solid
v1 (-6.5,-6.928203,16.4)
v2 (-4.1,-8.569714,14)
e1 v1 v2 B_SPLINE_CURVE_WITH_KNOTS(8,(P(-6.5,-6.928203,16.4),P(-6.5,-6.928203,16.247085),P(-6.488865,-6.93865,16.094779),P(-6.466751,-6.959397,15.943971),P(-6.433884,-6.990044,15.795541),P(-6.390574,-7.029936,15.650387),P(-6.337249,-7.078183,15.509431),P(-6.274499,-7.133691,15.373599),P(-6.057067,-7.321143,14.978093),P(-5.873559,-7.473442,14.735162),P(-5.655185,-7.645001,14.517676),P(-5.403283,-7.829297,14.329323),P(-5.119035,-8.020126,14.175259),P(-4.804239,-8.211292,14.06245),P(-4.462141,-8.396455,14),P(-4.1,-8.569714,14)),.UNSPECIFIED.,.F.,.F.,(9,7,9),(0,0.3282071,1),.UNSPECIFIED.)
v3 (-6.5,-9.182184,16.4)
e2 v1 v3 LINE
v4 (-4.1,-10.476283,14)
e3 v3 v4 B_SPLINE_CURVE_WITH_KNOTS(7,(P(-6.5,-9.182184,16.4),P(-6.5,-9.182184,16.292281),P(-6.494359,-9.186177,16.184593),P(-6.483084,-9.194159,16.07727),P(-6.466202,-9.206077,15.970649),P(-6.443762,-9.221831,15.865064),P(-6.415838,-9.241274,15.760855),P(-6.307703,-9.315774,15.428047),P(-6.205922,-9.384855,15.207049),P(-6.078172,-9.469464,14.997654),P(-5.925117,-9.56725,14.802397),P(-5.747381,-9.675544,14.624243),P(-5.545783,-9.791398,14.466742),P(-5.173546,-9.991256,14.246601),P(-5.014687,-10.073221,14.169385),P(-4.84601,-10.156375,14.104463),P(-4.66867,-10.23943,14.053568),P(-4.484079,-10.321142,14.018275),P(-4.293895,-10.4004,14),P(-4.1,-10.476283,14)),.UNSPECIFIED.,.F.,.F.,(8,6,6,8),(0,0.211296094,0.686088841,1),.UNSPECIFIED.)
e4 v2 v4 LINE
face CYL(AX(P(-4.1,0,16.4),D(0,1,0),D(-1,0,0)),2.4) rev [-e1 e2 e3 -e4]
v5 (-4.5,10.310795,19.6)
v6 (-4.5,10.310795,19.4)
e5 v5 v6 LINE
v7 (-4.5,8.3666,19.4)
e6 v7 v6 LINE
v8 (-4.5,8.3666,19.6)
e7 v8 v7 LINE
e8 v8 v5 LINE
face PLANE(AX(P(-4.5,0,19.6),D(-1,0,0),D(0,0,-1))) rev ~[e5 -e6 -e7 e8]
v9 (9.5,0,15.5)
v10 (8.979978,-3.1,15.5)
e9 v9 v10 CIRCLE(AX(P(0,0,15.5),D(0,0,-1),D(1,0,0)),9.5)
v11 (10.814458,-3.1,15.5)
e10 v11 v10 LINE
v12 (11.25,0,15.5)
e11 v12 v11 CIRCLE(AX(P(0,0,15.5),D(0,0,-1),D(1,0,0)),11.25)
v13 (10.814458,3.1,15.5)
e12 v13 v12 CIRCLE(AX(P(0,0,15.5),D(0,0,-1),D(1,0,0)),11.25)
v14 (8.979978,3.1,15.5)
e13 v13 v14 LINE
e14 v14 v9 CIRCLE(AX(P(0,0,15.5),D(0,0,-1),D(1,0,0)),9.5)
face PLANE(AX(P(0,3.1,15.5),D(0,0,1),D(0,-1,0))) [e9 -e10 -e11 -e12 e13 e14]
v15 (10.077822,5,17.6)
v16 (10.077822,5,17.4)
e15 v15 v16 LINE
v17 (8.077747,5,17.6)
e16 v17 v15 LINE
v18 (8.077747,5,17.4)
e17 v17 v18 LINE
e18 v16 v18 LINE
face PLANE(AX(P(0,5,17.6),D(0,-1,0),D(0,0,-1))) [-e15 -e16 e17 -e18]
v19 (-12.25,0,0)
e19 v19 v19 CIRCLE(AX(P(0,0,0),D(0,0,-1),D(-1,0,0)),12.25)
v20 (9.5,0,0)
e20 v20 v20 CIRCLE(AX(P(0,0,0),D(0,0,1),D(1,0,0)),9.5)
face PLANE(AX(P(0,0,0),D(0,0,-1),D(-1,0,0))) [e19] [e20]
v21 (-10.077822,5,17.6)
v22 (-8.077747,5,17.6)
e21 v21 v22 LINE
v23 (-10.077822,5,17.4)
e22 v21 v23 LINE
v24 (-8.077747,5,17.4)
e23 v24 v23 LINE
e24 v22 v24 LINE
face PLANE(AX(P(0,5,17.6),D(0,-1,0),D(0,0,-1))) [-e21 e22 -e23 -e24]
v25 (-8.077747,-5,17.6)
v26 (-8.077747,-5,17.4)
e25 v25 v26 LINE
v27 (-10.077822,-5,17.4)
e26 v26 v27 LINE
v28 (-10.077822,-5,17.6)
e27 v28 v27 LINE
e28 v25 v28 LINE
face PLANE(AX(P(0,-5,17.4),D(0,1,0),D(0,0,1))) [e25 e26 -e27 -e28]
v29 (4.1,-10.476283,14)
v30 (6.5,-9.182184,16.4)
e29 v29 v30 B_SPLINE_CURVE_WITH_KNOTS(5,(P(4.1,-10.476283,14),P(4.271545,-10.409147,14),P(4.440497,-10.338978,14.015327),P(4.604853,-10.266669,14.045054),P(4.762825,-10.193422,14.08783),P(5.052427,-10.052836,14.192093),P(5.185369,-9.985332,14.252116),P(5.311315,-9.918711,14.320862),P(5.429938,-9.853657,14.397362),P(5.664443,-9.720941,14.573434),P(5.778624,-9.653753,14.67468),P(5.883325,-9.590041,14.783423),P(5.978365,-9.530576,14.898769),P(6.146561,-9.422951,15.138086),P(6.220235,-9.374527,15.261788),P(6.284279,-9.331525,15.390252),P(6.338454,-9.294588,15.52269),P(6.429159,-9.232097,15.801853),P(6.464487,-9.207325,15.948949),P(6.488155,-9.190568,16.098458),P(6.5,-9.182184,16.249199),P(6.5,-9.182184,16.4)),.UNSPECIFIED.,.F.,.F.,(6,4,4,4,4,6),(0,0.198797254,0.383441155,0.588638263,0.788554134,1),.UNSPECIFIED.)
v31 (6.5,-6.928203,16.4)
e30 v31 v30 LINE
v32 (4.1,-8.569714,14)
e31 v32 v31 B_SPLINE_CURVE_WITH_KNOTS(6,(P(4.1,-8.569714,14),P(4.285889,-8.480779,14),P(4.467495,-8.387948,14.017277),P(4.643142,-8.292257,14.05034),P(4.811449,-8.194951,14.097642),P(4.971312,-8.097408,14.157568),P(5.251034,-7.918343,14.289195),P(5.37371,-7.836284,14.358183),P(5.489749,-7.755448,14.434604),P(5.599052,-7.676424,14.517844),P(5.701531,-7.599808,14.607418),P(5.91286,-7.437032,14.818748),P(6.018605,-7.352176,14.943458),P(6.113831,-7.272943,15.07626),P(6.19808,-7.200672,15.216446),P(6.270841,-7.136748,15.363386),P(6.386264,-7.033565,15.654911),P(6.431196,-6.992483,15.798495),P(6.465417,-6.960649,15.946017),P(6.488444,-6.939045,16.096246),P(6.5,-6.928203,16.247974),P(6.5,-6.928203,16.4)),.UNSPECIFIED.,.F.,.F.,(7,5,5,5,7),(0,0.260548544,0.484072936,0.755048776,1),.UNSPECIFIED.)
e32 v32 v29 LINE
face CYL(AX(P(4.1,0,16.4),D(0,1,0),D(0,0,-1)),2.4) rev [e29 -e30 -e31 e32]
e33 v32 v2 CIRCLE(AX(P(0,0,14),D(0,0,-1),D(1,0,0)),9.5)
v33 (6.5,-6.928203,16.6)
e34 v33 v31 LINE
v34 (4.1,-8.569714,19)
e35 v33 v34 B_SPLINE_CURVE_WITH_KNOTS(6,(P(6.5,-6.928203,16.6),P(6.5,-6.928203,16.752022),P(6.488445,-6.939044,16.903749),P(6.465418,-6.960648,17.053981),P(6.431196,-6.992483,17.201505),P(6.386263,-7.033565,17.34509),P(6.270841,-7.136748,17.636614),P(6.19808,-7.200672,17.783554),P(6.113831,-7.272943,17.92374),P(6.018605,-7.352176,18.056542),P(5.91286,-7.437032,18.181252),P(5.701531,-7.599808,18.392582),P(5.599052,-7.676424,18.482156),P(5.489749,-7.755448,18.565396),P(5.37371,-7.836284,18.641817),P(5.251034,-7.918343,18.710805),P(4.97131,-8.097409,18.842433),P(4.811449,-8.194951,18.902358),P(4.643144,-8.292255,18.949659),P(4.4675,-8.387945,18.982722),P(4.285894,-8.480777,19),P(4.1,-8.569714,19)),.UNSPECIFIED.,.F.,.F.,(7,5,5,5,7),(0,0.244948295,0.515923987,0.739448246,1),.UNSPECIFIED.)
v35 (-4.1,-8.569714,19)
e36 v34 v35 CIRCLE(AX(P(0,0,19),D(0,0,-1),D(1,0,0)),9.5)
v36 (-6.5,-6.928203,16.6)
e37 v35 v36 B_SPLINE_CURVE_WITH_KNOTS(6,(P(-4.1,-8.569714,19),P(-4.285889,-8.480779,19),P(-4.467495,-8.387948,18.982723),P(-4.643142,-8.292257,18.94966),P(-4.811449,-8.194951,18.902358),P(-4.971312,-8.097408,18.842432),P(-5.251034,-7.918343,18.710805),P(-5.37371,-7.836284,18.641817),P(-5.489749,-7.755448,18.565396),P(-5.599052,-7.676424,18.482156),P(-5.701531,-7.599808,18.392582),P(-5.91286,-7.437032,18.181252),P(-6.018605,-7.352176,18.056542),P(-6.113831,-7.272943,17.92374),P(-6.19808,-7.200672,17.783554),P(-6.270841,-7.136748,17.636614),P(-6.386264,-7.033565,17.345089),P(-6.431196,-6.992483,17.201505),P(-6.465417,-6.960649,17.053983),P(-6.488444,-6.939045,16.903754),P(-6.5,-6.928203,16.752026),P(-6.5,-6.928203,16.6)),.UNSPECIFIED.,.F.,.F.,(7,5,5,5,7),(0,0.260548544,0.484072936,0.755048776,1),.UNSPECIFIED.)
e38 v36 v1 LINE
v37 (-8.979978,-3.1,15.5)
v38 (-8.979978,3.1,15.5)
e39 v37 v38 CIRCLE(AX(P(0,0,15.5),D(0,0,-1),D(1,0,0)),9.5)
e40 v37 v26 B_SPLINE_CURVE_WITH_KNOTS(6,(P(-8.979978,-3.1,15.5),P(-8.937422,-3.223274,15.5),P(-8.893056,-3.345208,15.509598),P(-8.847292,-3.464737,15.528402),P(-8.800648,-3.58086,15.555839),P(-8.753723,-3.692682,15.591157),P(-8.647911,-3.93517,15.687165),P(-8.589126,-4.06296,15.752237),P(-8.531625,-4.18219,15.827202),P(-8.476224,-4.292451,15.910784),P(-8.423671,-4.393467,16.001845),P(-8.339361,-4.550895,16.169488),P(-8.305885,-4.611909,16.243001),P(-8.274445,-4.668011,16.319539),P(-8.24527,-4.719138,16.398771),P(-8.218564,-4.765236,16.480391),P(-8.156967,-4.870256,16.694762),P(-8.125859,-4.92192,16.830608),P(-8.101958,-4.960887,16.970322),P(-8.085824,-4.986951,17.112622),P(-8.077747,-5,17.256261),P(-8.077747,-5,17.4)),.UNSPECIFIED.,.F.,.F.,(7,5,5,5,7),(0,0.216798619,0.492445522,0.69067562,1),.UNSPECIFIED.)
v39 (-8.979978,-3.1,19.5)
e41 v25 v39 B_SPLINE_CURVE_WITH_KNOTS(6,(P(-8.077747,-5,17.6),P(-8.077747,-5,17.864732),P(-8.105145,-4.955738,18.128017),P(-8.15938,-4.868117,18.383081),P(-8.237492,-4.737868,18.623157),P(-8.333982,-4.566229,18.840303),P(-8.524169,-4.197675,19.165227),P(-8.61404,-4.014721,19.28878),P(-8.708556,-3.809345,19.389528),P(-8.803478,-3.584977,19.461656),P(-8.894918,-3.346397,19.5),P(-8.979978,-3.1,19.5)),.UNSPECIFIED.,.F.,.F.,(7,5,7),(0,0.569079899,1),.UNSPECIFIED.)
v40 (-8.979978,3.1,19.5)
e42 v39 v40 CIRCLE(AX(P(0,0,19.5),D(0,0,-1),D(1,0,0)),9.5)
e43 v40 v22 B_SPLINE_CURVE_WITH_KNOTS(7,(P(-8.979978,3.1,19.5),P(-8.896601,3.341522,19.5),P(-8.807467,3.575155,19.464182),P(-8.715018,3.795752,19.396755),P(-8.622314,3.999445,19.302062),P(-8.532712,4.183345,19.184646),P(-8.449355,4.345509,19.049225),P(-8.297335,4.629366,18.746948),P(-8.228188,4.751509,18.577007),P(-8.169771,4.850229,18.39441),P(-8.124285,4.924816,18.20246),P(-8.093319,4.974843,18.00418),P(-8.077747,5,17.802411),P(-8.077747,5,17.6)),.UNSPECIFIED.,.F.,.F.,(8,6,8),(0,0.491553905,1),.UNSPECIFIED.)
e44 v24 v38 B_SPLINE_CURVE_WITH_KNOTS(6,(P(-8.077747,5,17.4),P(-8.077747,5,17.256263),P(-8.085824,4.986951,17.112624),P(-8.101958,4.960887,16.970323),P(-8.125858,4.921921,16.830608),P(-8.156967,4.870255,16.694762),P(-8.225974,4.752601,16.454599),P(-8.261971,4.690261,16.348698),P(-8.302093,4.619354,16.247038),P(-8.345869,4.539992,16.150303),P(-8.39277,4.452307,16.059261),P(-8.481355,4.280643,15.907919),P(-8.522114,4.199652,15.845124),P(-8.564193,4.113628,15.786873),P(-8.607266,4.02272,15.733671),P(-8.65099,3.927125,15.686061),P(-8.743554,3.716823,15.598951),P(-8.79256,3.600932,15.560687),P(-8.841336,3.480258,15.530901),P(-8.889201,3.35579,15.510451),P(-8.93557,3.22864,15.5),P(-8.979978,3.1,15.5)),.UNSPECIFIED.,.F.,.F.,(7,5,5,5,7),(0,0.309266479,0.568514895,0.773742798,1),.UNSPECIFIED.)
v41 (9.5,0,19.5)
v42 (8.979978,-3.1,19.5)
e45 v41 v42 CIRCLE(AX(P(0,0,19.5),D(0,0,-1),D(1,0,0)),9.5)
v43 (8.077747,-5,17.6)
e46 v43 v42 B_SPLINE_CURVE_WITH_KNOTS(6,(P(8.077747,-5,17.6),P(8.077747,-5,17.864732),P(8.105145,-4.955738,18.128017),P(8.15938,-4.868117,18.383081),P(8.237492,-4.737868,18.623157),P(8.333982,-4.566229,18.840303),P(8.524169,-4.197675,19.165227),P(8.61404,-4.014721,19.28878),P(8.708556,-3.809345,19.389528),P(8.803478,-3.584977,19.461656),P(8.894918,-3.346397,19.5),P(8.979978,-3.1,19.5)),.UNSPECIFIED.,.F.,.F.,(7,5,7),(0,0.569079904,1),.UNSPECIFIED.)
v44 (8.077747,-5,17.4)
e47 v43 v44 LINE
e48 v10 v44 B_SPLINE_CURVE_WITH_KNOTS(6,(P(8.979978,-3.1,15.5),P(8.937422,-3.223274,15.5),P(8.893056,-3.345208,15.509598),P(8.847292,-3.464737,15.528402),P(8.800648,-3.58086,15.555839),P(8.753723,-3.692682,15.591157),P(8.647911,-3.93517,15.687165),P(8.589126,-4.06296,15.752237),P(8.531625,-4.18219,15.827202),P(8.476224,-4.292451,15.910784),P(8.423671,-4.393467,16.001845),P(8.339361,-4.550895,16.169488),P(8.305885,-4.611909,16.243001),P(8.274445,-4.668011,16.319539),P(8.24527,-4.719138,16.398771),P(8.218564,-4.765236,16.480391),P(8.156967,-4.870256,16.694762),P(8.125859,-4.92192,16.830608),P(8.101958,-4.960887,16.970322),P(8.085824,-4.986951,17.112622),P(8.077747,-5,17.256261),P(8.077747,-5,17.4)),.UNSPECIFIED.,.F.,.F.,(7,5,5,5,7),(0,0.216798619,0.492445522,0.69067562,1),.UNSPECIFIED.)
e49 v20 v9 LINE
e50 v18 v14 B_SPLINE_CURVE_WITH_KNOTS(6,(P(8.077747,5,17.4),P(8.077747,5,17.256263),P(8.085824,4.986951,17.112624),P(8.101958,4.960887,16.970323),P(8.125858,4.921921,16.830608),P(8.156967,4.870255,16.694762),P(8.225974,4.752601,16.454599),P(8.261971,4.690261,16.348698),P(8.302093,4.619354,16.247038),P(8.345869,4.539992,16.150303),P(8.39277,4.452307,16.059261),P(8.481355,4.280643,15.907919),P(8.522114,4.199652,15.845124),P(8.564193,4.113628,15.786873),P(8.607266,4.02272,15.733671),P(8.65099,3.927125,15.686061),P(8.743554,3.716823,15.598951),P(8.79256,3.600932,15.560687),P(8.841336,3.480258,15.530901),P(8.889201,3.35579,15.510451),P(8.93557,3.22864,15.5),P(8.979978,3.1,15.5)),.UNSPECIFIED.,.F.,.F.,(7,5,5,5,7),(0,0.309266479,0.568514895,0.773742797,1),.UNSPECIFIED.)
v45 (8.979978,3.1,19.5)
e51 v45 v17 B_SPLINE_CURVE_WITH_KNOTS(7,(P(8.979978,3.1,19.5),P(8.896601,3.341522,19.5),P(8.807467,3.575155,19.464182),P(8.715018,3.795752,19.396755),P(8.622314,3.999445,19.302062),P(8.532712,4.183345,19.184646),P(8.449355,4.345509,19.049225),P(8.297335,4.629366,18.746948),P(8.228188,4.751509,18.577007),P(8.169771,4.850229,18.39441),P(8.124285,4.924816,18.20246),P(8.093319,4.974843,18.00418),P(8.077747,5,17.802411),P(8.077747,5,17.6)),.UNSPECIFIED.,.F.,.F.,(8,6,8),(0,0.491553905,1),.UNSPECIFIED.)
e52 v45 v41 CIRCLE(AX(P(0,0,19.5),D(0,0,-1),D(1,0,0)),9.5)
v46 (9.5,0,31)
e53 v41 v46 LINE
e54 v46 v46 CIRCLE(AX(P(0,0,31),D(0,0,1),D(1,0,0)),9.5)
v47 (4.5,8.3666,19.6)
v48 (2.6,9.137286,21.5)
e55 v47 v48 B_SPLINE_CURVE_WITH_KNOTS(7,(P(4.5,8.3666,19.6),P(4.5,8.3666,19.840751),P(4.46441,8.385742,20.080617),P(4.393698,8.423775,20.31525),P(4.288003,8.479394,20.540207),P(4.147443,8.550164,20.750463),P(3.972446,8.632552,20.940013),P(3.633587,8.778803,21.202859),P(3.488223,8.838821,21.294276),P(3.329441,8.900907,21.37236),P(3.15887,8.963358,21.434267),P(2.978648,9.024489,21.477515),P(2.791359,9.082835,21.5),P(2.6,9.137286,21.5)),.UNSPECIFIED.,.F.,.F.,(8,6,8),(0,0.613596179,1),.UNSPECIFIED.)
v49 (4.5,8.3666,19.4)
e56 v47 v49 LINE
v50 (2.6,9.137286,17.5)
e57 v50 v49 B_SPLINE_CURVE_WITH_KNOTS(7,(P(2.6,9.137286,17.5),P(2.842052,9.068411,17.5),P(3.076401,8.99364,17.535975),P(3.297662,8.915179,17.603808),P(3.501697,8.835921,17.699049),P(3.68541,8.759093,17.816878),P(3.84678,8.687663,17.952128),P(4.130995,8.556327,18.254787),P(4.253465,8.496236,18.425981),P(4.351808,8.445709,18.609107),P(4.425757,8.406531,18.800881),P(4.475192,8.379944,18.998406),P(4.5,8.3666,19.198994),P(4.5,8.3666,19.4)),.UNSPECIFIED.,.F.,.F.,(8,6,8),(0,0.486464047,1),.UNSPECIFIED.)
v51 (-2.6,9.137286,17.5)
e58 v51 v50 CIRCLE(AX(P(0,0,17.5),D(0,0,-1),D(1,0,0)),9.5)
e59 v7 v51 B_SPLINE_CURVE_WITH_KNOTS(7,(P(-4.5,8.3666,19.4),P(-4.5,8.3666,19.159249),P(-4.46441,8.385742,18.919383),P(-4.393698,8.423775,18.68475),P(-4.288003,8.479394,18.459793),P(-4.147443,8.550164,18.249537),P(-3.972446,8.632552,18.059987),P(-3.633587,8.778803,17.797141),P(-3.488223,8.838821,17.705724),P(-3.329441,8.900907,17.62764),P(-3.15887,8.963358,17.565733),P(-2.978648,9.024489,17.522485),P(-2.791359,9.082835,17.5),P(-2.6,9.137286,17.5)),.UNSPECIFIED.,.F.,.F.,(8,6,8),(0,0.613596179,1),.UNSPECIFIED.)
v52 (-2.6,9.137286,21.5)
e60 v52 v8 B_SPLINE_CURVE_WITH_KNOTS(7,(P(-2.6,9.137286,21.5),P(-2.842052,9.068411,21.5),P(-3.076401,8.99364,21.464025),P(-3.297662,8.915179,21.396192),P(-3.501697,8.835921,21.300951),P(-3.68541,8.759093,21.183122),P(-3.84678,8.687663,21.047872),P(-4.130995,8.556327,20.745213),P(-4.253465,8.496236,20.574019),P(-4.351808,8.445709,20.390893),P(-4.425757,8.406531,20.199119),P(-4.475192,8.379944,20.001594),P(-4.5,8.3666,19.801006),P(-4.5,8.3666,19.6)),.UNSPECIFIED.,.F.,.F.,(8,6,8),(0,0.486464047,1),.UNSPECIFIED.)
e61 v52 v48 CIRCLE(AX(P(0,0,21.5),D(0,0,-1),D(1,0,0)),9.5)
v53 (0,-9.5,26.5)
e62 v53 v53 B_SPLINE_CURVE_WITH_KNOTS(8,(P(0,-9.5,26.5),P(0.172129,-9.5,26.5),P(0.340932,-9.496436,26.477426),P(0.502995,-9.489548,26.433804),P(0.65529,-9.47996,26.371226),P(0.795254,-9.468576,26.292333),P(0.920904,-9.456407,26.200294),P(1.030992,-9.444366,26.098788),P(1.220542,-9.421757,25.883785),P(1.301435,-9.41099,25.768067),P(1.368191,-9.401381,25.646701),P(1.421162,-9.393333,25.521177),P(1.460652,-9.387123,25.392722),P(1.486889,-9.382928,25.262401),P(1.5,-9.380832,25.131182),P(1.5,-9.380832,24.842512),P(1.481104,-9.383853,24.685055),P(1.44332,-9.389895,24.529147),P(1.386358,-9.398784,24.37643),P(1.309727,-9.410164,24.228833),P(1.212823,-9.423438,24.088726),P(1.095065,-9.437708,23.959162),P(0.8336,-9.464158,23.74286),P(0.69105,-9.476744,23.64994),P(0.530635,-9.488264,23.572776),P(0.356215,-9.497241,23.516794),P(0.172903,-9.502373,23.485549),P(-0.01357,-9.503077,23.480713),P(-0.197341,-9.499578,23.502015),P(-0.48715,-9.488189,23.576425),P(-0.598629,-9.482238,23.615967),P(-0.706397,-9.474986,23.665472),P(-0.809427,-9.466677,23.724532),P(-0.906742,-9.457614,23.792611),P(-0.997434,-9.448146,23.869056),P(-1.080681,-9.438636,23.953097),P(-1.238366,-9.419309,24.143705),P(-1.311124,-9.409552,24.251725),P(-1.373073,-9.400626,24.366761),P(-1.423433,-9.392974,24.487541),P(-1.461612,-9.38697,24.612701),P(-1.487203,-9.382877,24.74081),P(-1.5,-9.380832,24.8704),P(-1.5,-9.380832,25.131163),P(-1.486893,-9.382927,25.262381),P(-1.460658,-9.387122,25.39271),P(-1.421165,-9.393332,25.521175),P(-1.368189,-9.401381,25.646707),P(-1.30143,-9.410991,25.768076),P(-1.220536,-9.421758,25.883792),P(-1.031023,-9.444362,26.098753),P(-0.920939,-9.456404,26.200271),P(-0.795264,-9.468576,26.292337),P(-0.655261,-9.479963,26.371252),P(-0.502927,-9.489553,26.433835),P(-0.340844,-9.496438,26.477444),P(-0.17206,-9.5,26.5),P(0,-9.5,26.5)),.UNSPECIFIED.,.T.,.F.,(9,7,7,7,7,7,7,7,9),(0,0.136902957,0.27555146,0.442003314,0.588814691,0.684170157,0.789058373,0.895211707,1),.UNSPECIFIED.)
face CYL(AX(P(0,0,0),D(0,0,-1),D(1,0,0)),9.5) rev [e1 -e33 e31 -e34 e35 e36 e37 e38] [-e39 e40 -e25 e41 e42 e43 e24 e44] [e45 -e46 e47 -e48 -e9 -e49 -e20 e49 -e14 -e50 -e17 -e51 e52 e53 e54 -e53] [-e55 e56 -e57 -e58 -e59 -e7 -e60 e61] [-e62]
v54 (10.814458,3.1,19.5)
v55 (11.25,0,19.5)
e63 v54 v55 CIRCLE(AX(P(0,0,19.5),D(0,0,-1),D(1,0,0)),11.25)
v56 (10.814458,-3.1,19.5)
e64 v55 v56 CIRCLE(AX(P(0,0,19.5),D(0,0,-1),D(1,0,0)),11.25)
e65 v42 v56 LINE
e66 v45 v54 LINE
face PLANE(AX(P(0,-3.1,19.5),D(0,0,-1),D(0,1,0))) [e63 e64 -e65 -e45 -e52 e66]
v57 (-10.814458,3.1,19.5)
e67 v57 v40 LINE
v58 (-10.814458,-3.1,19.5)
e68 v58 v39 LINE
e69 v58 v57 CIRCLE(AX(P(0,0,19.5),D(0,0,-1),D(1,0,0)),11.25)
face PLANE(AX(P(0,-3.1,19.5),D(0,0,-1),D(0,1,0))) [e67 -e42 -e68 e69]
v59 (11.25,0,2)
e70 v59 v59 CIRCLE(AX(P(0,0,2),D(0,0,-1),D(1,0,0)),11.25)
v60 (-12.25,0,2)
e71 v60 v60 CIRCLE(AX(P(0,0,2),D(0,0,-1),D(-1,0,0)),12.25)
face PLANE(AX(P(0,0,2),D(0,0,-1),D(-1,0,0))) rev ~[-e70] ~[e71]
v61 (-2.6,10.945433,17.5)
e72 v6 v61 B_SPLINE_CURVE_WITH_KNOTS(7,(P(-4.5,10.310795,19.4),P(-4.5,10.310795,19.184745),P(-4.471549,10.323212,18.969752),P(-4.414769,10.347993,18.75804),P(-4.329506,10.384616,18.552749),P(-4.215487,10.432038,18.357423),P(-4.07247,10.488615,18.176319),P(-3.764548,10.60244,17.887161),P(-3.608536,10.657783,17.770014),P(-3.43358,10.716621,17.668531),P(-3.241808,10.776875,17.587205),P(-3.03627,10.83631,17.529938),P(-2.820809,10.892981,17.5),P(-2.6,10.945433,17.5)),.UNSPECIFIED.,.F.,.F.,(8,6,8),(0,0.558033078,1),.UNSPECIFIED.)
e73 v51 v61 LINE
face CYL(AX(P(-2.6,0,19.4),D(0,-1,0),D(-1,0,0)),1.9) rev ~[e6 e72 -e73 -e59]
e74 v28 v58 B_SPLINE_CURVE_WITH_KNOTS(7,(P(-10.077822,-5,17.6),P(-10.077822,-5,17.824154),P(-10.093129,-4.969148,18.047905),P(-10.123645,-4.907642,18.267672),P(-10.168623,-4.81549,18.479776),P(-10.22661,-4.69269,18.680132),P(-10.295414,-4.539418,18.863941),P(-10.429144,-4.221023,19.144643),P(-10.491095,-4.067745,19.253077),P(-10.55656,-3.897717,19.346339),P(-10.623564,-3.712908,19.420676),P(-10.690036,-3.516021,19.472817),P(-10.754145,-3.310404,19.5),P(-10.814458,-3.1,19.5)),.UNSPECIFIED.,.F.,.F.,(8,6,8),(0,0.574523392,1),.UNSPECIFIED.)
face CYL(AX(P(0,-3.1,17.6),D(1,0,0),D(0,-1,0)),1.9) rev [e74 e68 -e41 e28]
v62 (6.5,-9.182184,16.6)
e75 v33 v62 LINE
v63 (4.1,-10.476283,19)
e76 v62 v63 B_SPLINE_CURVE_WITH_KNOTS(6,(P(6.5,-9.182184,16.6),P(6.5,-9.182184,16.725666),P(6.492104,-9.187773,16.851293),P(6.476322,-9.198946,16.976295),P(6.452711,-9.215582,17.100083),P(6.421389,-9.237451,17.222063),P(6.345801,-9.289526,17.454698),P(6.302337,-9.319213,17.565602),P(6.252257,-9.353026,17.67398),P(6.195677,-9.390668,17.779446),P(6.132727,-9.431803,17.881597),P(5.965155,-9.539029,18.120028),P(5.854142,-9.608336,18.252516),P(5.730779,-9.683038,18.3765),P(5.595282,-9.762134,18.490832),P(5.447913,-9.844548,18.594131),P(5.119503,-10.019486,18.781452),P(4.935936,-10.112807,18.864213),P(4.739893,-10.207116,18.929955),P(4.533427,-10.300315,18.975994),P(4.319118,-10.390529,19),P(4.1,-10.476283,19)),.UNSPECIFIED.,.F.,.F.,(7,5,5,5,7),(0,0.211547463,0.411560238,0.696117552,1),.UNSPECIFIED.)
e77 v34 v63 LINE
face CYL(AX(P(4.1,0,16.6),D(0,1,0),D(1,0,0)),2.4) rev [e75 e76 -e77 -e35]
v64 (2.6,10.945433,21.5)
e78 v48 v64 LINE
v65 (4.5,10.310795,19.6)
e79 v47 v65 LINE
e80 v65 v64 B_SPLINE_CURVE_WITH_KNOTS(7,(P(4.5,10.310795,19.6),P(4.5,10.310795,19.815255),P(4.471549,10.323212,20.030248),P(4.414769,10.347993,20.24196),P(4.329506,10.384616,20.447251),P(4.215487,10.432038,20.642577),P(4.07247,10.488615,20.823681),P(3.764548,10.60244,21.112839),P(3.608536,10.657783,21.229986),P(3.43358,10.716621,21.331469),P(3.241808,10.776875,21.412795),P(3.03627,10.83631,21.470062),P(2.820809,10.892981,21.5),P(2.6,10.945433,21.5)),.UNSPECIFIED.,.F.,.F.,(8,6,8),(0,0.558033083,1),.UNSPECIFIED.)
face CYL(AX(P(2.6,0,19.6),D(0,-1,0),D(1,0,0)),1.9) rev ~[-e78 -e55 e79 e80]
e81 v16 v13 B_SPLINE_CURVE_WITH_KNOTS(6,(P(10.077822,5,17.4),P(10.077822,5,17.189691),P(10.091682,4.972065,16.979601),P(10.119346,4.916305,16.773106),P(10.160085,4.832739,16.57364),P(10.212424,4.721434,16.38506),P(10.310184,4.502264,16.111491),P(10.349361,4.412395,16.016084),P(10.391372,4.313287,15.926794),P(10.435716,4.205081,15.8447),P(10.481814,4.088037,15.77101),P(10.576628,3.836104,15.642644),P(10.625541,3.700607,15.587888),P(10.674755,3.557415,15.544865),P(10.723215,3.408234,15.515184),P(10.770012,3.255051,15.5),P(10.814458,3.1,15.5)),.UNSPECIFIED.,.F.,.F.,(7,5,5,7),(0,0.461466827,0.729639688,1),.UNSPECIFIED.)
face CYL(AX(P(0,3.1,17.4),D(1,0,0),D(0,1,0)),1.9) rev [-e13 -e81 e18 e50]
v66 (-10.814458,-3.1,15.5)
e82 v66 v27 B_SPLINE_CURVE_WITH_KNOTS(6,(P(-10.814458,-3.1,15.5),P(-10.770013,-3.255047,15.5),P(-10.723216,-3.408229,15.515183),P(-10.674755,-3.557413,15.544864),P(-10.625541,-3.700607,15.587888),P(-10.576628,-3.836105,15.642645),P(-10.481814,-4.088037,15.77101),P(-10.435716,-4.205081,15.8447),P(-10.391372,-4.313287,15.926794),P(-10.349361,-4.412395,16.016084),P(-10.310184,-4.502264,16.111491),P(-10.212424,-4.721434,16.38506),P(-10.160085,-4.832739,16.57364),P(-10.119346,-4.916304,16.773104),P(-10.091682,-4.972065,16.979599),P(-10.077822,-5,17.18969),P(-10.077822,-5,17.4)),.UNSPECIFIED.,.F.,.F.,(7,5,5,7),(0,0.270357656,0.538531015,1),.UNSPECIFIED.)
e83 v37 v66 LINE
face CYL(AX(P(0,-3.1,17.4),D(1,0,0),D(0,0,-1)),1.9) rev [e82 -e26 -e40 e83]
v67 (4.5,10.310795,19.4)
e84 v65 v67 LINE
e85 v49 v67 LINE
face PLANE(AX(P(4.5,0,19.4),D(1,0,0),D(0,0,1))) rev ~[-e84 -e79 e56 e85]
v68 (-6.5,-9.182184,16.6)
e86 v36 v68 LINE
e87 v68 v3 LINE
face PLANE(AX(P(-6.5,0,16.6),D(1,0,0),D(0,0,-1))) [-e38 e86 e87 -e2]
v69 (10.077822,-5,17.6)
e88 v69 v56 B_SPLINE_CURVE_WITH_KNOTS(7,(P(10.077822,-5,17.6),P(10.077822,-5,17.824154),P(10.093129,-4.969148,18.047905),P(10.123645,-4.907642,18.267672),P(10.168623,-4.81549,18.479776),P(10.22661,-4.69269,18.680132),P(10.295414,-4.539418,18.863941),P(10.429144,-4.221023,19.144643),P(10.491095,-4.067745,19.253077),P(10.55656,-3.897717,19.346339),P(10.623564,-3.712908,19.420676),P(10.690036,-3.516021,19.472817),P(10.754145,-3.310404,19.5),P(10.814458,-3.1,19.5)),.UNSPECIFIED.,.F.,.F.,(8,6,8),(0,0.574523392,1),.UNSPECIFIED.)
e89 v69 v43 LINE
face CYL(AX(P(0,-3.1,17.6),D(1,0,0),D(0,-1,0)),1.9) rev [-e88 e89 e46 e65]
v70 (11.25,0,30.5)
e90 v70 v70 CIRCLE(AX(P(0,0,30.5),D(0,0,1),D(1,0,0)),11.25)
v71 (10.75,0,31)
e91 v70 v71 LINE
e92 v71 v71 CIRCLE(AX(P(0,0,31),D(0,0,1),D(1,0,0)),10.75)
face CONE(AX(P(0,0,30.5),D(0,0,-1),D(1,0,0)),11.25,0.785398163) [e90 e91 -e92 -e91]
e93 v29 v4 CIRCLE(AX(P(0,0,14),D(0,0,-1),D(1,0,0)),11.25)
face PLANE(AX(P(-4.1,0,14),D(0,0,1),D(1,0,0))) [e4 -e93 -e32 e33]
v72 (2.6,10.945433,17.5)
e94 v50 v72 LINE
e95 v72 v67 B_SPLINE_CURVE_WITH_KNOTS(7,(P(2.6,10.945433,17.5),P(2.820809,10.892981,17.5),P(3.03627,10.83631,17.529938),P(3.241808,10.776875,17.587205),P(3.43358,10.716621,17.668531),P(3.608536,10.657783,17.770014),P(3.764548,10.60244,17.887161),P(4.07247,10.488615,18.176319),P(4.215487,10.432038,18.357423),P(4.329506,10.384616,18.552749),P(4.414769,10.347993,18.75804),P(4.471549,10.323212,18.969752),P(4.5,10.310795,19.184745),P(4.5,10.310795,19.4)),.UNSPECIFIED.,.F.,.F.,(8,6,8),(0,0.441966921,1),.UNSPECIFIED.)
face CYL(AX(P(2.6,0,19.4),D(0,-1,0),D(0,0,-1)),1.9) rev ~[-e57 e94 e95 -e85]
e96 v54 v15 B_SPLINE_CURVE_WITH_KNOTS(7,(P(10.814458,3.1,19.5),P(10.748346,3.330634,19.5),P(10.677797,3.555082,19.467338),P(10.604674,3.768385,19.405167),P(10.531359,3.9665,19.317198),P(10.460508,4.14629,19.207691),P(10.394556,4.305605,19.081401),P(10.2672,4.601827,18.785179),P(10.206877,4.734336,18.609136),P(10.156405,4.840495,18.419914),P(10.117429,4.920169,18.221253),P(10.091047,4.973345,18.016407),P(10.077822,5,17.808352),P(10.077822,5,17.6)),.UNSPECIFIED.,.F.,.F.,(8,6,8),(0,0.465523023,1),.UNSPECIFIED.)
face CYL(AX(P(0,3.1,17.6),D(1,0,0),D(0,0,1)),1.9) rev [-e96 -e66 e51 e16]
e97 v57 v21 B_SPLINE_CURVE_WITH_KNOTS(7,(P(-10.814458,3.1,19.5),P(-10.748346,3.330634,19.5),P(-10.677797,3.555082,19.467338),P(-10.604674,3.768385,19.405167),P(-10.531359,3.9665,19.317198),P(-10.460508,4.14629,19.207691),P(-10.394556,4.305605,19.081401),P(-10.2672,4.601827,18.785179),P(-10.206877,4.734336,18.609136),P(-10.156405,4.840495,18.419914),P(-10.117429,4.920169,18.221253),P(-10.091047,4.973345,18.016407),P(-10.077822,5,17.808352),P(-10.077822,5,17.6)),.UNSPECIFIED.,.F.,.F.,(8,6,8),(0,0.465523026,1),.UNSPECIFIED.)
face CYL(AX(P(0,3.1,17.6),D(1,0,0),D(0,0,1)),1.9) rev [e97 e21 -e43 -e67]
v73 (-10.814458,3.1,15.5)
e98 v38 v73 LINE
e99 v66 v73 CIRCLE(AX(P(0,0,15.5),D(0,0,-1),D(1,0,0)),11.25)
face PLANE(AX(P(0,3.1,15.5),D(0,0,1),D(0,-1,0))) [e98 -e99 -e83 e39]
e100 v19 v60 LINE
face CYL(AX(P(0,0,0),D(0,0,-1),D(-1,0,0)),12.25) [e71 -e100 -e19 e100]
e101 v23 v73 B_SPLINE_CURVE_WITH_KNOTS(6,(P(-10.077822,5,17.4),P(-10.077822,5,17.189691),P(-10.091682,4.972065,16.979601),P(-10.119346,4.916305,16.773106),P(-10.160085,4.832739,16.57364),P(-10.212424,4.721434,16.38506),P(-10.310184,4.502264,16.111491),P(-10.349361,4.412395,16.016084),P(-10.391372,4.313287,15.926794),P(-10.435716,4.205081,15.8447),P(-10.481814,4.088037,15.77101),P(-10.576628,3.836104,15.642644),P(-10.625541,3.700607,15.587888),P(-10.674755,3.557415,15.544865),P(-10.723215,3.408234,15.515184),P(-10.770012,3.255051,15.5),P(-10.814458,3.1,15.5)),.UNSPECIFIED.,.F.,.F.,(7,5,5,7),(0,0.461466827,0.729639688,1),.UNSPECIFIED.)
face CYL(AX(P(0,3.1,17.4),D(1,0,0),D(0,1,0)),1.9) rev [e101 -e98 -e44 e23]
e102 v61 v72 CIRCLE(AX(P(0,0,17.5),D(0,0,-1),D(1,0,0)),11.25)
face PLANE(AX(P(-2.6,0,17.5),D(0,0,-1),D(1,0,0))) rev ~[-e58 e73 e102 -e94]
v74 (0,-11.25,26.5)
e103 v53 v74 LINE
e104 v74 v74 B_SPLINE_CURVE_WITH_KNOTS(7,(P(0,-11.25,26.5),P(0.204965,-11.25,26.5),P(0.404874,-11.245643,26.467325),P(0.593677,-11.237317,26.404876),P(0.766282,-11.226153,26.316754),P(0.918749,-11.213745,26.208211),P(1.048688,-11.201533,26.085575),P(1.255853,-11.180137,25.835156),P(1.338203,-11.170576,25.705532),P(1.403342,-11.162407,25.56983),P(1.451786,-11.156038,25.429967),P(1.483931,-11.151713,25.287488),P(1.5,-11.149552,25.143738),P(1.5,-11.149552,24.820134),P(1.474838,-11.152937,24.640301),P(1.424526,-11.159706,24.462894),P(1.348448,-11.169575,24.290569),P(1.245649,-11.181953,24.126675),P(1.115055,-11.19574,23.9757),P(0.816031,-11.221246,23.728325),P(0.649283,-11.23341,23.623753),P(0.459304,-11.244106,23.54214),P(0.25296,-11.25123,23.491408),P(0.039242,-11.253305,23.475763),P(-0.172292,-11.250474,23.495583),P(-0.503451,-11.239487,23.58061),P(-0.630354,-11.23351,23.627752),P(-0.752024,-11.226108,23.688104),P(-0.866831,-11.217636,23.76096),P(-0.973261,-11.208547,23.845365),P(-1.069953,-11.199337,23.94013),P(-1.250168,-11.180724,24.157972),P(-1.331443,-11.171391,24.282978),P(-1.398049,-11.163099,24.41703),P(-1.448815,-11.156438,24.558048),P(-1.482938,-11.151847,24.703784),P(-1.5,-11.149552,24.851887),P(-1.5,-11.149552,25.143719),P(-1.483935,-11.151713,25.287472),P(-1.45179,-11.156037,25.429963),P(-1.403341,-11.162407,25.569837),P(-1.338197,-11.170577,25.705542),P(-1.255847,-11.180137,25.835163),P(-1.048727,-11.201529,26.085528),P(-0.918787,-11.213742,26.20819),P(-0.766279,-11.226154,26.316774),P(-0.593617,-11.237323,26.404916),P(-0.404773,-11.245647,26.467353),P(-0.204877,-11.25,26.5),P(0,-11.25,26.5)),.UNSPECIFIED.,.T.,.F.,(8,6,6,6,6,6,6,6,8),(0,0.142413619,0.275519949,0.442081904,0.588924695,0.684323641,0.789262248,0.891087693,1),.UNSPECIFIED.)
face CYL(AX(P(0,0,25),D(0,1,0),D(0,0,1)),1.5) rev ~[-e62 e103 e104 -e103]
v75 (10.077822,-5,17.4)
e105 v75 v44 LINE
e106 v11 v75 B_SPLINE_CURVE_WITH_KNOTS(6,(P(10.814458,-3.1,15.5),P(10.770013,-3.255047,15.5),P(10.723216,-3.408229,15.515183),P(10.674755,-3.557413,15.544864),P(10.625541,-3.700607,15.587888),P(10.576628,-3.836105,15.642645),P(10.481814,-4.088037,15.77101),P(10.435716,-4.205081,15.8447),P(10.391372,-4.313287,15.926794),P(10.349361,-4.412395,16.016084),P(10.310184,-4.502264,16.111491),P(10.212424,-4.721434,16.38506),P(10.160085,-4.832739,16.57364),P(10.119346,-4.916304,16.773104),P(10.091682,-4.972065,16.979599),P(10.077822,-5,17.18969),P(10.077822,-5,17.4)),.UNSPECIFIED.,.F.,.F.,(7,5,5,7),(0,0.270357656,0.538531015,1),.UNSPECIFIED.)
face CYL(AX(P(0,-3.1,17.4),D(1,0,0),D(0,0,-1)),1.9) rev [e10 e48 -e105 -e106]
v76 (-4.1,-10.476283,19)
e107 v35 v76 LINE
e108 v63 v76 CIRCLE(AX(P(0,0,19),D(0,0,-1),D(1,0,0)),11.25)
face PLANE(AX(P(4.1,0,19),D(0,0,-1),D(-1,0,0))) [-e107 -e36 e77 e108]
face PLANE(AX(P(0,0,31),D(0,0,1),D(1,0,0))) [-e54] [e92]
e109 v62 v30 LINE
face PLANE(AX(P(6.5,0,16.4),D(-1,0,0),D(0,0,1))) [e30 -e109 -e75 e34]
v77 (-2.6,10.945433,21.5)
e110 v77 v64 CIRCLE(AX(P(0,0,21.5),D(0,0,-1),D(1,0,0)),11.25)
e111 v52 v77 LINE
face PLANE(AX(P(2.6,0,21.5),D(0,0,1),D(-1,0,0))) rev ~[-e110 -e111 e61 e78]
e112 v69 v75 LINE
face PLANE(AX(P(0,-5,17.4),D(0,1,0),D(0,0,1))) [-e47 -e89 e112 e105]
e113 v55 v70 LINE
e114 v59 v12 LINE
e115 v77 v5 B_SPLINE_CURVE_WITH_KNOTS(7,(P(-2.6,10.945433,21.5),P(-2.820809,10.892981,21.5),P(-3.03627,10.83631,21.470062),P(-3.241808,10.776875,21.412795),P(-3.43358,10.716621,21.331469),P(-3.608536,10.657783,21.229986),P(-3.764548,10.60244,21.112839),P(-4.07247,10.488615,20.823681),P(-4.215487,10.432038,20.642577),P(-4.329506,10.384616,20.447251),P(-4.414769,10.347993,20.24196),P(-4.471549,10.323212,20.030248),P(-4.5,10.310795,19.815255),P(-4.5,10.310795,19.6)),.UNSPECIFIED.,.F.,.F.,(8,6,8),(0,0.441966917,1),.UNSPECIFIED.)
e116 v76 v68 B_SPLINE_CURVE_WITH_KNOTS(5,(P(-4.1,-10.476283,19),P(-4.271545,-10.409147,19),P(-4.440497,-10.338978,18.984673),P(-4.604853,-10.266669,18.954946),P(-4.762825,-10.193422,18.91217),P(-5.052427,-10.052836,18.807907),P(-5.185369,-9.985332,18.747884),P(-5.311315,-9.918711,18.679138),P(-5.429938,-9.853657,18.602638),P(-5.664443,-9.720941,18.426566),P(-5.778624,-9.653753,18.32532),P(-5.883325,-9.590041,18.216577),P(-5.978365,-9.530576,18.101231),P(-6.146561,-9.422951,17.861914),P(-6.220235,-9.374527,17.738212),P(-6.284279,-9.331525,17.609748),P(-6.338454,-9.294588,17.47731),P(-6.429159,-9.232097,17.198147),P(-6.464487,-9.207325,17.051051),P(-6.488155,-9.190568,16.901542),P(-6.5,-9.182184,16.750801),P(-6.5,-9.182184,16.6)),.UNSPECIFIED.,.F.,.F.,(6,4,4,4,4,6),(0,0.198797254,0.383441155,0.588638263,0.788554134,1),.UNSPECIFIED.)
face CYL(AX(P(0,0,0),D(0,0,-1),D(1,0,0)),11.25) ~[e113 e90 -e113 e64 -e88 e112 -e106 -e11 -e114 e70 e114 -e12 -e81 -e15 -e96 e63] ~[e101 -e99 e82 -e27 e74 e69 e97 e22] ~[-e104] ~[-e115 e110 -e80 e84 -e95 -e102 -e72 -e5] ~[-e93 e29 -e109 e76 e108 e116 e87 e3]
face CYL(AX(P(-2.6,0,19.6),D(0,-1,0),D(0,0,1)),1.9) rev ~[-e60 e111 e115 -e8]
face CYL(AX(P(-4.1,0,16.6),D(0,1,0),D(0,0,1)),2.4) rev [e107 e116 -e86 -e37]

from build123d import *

# Parameters (mm, degrees)
ESQUISSE1_R             = 11.25
ESQUISSE1_R_2           = 9.5
BASE_EXTRUSION_DEPTH    = 31
CHANFREIN1_SIZE         = 0.5
ESQUISSE2_R             = 12.25
ESQUISSE2_R_2           = 11.25
BOSS_EXTRU_MINCE1_DEPTH = 2
ESQUISSE3_R             = 1.5
ENL_V_MAT_EXTRU_1_DEPTH = 36.512321805
ENL_V_MAT_EXTRU_2_DEPTH = 25
ENL_V_MAT_EXTRU_3_DEPTH = 50


with BuildPart() as part:
    # Esquisse1 → Base-Extrusion (new body)
    with BuildSketch(Plane.XY):
        Circle(ESQUISSE1_R)
        Circle(ESQUISSE1_R_2, mode=Mode.SUBTRACT)
    extrude(amount=BASE_EXTRUSION_DEPTH)

    # Chanfrein1
    chanfrein1_edges = [part.edges().sort_by_distance(p)[0] for p in [
        (-11.25, 0, 31),
    ]]
    chamfer(chanfrein1_edges, length=CHANFREIN1_SIZE)

    # Esquisse2 → Boss.-Extru.-Mince1 (add)
    with BuildSketch(Plane(origin=(0, 0, 0), x_dir=(-1, 0, 0), z_dir=(0, 0, -1))):
        Circle(ESQUISSE2_R)
        Circle(ESQUISSE2_R_2, mode=Mode.SUBTRACT)
    extrude(amount=-BOSS_EXTRU_MINCE1_DEPTH)

    # Esquisse3 → Enlèv. mat.-Extru.1 (cut, through all)
    with BuildSketch(Plane(origin=(0, 0, 0), x_dir=(1, 0, 0), z_dir=(0, 1, 0))):
        with Locations(Location((0, -25, 0), (0, 0, 270))):
            Circle(ESQUISSE3_R)
        with BuildLine():
            Line((-4.1, -14), (4.1, -14))
            ThreePointArc((4.1, -14), (5.797056275, -14.702943725), (6.5, -16.4))
            Line((6.5, -16.4), (6.5, -16.6))
            ThreePointArc((6.5, -16.6), (5.797056275, -18.297056275), (4.1, -19))
            Line((4.1, -19), (-4.1, -19))
            ThreePointArc((-4.1, -19), (-5.797056275, -18.297056275), (-6.5, -16.6))
            Line((-6.5, -16.6), (-6.5, -16.4))
            ThreePointArc((-6.5, -16.4), (-5.797056275, -14.702943725), (-4.1, -14))
        make_face()
    extrude(amount=-ENL_V_MAT_EXTRU_1_DEPTH, mode=Mode.SUBTRACT)

    # Esquisse4 → Enlèv. mat.-Extru.2 (cut, symmetric)
    with BuildSketch(Plane(origin=(0, 0, 0), x_dir=(0, 0, -1), z_dir=(1, 0, 0))):
        with BuildLine():
            Line((-17.6, 5), (-17.4, 5))
            ThreePointArc((-17.4, 5), (-16.056497116, 4.443502884), (-15.5, 3.1))
            Line((-15.5, 3.1), (-15.5, -3.1))
            ThreePointArc((-15.5, -3.1), (-16.056497116, -4.443502884), (-17.4, -5))
            Line((-17.4, -5), (-17.6, -5))
            ThreePointArc((-17.6, -5), (-18.943502884, -4.443502884), (-19.5, -3.1))
            Line((-19.5, -3.1), (-19.5, 3.1))
            ThreePointArc((-19.5, 3.1), (-18.943502884, 4.443502884), (-17.6, 5))
        make_face()
    extrude(amount=ENL_V_MAT_EXTRU_2_DEPTH, both=True, mode=Mode.SUBTRACT)

    # Esquisse5 → Enlèv. mat.-Extru.3 (cut)
    with BuildSketch(Plane(origin=(0, 0, 0), x_dir=(1, 0, 0), z_dir=(0, 1, 0))):
        with BuildLine():
            Line((-2.6, -17.5), (2.6, -17.5))
            ThreePointArc((2.6, -17.5), (3.943502884, -18.056497116), (4.5, -19.4))
            Line((4.5, -19.4), (4.5, -19.6))
            ThreePointArc((4.5, -19.6), (3.943502884, -20.943502884), (2.6, -21.5))
            Line((2.6, -21.5), (-2.6, -21.5))
            ThreePointArc((-2.6, -21.5), (-3.943502884, -20.943502884), (-4.5, -19.6))
            Line((-4.5, -19.6), (-4.5, -19.4))
            ThreePointArc((-4.5, -19.4), (-3.943502884, -18.056497116), (-2.6, -17.5))
        make_face()
    extrude(amount=ENL_V_MAT_EXTRU_3_DEPTH, mode=Mode.SUBTRACT)


solid = part.part
